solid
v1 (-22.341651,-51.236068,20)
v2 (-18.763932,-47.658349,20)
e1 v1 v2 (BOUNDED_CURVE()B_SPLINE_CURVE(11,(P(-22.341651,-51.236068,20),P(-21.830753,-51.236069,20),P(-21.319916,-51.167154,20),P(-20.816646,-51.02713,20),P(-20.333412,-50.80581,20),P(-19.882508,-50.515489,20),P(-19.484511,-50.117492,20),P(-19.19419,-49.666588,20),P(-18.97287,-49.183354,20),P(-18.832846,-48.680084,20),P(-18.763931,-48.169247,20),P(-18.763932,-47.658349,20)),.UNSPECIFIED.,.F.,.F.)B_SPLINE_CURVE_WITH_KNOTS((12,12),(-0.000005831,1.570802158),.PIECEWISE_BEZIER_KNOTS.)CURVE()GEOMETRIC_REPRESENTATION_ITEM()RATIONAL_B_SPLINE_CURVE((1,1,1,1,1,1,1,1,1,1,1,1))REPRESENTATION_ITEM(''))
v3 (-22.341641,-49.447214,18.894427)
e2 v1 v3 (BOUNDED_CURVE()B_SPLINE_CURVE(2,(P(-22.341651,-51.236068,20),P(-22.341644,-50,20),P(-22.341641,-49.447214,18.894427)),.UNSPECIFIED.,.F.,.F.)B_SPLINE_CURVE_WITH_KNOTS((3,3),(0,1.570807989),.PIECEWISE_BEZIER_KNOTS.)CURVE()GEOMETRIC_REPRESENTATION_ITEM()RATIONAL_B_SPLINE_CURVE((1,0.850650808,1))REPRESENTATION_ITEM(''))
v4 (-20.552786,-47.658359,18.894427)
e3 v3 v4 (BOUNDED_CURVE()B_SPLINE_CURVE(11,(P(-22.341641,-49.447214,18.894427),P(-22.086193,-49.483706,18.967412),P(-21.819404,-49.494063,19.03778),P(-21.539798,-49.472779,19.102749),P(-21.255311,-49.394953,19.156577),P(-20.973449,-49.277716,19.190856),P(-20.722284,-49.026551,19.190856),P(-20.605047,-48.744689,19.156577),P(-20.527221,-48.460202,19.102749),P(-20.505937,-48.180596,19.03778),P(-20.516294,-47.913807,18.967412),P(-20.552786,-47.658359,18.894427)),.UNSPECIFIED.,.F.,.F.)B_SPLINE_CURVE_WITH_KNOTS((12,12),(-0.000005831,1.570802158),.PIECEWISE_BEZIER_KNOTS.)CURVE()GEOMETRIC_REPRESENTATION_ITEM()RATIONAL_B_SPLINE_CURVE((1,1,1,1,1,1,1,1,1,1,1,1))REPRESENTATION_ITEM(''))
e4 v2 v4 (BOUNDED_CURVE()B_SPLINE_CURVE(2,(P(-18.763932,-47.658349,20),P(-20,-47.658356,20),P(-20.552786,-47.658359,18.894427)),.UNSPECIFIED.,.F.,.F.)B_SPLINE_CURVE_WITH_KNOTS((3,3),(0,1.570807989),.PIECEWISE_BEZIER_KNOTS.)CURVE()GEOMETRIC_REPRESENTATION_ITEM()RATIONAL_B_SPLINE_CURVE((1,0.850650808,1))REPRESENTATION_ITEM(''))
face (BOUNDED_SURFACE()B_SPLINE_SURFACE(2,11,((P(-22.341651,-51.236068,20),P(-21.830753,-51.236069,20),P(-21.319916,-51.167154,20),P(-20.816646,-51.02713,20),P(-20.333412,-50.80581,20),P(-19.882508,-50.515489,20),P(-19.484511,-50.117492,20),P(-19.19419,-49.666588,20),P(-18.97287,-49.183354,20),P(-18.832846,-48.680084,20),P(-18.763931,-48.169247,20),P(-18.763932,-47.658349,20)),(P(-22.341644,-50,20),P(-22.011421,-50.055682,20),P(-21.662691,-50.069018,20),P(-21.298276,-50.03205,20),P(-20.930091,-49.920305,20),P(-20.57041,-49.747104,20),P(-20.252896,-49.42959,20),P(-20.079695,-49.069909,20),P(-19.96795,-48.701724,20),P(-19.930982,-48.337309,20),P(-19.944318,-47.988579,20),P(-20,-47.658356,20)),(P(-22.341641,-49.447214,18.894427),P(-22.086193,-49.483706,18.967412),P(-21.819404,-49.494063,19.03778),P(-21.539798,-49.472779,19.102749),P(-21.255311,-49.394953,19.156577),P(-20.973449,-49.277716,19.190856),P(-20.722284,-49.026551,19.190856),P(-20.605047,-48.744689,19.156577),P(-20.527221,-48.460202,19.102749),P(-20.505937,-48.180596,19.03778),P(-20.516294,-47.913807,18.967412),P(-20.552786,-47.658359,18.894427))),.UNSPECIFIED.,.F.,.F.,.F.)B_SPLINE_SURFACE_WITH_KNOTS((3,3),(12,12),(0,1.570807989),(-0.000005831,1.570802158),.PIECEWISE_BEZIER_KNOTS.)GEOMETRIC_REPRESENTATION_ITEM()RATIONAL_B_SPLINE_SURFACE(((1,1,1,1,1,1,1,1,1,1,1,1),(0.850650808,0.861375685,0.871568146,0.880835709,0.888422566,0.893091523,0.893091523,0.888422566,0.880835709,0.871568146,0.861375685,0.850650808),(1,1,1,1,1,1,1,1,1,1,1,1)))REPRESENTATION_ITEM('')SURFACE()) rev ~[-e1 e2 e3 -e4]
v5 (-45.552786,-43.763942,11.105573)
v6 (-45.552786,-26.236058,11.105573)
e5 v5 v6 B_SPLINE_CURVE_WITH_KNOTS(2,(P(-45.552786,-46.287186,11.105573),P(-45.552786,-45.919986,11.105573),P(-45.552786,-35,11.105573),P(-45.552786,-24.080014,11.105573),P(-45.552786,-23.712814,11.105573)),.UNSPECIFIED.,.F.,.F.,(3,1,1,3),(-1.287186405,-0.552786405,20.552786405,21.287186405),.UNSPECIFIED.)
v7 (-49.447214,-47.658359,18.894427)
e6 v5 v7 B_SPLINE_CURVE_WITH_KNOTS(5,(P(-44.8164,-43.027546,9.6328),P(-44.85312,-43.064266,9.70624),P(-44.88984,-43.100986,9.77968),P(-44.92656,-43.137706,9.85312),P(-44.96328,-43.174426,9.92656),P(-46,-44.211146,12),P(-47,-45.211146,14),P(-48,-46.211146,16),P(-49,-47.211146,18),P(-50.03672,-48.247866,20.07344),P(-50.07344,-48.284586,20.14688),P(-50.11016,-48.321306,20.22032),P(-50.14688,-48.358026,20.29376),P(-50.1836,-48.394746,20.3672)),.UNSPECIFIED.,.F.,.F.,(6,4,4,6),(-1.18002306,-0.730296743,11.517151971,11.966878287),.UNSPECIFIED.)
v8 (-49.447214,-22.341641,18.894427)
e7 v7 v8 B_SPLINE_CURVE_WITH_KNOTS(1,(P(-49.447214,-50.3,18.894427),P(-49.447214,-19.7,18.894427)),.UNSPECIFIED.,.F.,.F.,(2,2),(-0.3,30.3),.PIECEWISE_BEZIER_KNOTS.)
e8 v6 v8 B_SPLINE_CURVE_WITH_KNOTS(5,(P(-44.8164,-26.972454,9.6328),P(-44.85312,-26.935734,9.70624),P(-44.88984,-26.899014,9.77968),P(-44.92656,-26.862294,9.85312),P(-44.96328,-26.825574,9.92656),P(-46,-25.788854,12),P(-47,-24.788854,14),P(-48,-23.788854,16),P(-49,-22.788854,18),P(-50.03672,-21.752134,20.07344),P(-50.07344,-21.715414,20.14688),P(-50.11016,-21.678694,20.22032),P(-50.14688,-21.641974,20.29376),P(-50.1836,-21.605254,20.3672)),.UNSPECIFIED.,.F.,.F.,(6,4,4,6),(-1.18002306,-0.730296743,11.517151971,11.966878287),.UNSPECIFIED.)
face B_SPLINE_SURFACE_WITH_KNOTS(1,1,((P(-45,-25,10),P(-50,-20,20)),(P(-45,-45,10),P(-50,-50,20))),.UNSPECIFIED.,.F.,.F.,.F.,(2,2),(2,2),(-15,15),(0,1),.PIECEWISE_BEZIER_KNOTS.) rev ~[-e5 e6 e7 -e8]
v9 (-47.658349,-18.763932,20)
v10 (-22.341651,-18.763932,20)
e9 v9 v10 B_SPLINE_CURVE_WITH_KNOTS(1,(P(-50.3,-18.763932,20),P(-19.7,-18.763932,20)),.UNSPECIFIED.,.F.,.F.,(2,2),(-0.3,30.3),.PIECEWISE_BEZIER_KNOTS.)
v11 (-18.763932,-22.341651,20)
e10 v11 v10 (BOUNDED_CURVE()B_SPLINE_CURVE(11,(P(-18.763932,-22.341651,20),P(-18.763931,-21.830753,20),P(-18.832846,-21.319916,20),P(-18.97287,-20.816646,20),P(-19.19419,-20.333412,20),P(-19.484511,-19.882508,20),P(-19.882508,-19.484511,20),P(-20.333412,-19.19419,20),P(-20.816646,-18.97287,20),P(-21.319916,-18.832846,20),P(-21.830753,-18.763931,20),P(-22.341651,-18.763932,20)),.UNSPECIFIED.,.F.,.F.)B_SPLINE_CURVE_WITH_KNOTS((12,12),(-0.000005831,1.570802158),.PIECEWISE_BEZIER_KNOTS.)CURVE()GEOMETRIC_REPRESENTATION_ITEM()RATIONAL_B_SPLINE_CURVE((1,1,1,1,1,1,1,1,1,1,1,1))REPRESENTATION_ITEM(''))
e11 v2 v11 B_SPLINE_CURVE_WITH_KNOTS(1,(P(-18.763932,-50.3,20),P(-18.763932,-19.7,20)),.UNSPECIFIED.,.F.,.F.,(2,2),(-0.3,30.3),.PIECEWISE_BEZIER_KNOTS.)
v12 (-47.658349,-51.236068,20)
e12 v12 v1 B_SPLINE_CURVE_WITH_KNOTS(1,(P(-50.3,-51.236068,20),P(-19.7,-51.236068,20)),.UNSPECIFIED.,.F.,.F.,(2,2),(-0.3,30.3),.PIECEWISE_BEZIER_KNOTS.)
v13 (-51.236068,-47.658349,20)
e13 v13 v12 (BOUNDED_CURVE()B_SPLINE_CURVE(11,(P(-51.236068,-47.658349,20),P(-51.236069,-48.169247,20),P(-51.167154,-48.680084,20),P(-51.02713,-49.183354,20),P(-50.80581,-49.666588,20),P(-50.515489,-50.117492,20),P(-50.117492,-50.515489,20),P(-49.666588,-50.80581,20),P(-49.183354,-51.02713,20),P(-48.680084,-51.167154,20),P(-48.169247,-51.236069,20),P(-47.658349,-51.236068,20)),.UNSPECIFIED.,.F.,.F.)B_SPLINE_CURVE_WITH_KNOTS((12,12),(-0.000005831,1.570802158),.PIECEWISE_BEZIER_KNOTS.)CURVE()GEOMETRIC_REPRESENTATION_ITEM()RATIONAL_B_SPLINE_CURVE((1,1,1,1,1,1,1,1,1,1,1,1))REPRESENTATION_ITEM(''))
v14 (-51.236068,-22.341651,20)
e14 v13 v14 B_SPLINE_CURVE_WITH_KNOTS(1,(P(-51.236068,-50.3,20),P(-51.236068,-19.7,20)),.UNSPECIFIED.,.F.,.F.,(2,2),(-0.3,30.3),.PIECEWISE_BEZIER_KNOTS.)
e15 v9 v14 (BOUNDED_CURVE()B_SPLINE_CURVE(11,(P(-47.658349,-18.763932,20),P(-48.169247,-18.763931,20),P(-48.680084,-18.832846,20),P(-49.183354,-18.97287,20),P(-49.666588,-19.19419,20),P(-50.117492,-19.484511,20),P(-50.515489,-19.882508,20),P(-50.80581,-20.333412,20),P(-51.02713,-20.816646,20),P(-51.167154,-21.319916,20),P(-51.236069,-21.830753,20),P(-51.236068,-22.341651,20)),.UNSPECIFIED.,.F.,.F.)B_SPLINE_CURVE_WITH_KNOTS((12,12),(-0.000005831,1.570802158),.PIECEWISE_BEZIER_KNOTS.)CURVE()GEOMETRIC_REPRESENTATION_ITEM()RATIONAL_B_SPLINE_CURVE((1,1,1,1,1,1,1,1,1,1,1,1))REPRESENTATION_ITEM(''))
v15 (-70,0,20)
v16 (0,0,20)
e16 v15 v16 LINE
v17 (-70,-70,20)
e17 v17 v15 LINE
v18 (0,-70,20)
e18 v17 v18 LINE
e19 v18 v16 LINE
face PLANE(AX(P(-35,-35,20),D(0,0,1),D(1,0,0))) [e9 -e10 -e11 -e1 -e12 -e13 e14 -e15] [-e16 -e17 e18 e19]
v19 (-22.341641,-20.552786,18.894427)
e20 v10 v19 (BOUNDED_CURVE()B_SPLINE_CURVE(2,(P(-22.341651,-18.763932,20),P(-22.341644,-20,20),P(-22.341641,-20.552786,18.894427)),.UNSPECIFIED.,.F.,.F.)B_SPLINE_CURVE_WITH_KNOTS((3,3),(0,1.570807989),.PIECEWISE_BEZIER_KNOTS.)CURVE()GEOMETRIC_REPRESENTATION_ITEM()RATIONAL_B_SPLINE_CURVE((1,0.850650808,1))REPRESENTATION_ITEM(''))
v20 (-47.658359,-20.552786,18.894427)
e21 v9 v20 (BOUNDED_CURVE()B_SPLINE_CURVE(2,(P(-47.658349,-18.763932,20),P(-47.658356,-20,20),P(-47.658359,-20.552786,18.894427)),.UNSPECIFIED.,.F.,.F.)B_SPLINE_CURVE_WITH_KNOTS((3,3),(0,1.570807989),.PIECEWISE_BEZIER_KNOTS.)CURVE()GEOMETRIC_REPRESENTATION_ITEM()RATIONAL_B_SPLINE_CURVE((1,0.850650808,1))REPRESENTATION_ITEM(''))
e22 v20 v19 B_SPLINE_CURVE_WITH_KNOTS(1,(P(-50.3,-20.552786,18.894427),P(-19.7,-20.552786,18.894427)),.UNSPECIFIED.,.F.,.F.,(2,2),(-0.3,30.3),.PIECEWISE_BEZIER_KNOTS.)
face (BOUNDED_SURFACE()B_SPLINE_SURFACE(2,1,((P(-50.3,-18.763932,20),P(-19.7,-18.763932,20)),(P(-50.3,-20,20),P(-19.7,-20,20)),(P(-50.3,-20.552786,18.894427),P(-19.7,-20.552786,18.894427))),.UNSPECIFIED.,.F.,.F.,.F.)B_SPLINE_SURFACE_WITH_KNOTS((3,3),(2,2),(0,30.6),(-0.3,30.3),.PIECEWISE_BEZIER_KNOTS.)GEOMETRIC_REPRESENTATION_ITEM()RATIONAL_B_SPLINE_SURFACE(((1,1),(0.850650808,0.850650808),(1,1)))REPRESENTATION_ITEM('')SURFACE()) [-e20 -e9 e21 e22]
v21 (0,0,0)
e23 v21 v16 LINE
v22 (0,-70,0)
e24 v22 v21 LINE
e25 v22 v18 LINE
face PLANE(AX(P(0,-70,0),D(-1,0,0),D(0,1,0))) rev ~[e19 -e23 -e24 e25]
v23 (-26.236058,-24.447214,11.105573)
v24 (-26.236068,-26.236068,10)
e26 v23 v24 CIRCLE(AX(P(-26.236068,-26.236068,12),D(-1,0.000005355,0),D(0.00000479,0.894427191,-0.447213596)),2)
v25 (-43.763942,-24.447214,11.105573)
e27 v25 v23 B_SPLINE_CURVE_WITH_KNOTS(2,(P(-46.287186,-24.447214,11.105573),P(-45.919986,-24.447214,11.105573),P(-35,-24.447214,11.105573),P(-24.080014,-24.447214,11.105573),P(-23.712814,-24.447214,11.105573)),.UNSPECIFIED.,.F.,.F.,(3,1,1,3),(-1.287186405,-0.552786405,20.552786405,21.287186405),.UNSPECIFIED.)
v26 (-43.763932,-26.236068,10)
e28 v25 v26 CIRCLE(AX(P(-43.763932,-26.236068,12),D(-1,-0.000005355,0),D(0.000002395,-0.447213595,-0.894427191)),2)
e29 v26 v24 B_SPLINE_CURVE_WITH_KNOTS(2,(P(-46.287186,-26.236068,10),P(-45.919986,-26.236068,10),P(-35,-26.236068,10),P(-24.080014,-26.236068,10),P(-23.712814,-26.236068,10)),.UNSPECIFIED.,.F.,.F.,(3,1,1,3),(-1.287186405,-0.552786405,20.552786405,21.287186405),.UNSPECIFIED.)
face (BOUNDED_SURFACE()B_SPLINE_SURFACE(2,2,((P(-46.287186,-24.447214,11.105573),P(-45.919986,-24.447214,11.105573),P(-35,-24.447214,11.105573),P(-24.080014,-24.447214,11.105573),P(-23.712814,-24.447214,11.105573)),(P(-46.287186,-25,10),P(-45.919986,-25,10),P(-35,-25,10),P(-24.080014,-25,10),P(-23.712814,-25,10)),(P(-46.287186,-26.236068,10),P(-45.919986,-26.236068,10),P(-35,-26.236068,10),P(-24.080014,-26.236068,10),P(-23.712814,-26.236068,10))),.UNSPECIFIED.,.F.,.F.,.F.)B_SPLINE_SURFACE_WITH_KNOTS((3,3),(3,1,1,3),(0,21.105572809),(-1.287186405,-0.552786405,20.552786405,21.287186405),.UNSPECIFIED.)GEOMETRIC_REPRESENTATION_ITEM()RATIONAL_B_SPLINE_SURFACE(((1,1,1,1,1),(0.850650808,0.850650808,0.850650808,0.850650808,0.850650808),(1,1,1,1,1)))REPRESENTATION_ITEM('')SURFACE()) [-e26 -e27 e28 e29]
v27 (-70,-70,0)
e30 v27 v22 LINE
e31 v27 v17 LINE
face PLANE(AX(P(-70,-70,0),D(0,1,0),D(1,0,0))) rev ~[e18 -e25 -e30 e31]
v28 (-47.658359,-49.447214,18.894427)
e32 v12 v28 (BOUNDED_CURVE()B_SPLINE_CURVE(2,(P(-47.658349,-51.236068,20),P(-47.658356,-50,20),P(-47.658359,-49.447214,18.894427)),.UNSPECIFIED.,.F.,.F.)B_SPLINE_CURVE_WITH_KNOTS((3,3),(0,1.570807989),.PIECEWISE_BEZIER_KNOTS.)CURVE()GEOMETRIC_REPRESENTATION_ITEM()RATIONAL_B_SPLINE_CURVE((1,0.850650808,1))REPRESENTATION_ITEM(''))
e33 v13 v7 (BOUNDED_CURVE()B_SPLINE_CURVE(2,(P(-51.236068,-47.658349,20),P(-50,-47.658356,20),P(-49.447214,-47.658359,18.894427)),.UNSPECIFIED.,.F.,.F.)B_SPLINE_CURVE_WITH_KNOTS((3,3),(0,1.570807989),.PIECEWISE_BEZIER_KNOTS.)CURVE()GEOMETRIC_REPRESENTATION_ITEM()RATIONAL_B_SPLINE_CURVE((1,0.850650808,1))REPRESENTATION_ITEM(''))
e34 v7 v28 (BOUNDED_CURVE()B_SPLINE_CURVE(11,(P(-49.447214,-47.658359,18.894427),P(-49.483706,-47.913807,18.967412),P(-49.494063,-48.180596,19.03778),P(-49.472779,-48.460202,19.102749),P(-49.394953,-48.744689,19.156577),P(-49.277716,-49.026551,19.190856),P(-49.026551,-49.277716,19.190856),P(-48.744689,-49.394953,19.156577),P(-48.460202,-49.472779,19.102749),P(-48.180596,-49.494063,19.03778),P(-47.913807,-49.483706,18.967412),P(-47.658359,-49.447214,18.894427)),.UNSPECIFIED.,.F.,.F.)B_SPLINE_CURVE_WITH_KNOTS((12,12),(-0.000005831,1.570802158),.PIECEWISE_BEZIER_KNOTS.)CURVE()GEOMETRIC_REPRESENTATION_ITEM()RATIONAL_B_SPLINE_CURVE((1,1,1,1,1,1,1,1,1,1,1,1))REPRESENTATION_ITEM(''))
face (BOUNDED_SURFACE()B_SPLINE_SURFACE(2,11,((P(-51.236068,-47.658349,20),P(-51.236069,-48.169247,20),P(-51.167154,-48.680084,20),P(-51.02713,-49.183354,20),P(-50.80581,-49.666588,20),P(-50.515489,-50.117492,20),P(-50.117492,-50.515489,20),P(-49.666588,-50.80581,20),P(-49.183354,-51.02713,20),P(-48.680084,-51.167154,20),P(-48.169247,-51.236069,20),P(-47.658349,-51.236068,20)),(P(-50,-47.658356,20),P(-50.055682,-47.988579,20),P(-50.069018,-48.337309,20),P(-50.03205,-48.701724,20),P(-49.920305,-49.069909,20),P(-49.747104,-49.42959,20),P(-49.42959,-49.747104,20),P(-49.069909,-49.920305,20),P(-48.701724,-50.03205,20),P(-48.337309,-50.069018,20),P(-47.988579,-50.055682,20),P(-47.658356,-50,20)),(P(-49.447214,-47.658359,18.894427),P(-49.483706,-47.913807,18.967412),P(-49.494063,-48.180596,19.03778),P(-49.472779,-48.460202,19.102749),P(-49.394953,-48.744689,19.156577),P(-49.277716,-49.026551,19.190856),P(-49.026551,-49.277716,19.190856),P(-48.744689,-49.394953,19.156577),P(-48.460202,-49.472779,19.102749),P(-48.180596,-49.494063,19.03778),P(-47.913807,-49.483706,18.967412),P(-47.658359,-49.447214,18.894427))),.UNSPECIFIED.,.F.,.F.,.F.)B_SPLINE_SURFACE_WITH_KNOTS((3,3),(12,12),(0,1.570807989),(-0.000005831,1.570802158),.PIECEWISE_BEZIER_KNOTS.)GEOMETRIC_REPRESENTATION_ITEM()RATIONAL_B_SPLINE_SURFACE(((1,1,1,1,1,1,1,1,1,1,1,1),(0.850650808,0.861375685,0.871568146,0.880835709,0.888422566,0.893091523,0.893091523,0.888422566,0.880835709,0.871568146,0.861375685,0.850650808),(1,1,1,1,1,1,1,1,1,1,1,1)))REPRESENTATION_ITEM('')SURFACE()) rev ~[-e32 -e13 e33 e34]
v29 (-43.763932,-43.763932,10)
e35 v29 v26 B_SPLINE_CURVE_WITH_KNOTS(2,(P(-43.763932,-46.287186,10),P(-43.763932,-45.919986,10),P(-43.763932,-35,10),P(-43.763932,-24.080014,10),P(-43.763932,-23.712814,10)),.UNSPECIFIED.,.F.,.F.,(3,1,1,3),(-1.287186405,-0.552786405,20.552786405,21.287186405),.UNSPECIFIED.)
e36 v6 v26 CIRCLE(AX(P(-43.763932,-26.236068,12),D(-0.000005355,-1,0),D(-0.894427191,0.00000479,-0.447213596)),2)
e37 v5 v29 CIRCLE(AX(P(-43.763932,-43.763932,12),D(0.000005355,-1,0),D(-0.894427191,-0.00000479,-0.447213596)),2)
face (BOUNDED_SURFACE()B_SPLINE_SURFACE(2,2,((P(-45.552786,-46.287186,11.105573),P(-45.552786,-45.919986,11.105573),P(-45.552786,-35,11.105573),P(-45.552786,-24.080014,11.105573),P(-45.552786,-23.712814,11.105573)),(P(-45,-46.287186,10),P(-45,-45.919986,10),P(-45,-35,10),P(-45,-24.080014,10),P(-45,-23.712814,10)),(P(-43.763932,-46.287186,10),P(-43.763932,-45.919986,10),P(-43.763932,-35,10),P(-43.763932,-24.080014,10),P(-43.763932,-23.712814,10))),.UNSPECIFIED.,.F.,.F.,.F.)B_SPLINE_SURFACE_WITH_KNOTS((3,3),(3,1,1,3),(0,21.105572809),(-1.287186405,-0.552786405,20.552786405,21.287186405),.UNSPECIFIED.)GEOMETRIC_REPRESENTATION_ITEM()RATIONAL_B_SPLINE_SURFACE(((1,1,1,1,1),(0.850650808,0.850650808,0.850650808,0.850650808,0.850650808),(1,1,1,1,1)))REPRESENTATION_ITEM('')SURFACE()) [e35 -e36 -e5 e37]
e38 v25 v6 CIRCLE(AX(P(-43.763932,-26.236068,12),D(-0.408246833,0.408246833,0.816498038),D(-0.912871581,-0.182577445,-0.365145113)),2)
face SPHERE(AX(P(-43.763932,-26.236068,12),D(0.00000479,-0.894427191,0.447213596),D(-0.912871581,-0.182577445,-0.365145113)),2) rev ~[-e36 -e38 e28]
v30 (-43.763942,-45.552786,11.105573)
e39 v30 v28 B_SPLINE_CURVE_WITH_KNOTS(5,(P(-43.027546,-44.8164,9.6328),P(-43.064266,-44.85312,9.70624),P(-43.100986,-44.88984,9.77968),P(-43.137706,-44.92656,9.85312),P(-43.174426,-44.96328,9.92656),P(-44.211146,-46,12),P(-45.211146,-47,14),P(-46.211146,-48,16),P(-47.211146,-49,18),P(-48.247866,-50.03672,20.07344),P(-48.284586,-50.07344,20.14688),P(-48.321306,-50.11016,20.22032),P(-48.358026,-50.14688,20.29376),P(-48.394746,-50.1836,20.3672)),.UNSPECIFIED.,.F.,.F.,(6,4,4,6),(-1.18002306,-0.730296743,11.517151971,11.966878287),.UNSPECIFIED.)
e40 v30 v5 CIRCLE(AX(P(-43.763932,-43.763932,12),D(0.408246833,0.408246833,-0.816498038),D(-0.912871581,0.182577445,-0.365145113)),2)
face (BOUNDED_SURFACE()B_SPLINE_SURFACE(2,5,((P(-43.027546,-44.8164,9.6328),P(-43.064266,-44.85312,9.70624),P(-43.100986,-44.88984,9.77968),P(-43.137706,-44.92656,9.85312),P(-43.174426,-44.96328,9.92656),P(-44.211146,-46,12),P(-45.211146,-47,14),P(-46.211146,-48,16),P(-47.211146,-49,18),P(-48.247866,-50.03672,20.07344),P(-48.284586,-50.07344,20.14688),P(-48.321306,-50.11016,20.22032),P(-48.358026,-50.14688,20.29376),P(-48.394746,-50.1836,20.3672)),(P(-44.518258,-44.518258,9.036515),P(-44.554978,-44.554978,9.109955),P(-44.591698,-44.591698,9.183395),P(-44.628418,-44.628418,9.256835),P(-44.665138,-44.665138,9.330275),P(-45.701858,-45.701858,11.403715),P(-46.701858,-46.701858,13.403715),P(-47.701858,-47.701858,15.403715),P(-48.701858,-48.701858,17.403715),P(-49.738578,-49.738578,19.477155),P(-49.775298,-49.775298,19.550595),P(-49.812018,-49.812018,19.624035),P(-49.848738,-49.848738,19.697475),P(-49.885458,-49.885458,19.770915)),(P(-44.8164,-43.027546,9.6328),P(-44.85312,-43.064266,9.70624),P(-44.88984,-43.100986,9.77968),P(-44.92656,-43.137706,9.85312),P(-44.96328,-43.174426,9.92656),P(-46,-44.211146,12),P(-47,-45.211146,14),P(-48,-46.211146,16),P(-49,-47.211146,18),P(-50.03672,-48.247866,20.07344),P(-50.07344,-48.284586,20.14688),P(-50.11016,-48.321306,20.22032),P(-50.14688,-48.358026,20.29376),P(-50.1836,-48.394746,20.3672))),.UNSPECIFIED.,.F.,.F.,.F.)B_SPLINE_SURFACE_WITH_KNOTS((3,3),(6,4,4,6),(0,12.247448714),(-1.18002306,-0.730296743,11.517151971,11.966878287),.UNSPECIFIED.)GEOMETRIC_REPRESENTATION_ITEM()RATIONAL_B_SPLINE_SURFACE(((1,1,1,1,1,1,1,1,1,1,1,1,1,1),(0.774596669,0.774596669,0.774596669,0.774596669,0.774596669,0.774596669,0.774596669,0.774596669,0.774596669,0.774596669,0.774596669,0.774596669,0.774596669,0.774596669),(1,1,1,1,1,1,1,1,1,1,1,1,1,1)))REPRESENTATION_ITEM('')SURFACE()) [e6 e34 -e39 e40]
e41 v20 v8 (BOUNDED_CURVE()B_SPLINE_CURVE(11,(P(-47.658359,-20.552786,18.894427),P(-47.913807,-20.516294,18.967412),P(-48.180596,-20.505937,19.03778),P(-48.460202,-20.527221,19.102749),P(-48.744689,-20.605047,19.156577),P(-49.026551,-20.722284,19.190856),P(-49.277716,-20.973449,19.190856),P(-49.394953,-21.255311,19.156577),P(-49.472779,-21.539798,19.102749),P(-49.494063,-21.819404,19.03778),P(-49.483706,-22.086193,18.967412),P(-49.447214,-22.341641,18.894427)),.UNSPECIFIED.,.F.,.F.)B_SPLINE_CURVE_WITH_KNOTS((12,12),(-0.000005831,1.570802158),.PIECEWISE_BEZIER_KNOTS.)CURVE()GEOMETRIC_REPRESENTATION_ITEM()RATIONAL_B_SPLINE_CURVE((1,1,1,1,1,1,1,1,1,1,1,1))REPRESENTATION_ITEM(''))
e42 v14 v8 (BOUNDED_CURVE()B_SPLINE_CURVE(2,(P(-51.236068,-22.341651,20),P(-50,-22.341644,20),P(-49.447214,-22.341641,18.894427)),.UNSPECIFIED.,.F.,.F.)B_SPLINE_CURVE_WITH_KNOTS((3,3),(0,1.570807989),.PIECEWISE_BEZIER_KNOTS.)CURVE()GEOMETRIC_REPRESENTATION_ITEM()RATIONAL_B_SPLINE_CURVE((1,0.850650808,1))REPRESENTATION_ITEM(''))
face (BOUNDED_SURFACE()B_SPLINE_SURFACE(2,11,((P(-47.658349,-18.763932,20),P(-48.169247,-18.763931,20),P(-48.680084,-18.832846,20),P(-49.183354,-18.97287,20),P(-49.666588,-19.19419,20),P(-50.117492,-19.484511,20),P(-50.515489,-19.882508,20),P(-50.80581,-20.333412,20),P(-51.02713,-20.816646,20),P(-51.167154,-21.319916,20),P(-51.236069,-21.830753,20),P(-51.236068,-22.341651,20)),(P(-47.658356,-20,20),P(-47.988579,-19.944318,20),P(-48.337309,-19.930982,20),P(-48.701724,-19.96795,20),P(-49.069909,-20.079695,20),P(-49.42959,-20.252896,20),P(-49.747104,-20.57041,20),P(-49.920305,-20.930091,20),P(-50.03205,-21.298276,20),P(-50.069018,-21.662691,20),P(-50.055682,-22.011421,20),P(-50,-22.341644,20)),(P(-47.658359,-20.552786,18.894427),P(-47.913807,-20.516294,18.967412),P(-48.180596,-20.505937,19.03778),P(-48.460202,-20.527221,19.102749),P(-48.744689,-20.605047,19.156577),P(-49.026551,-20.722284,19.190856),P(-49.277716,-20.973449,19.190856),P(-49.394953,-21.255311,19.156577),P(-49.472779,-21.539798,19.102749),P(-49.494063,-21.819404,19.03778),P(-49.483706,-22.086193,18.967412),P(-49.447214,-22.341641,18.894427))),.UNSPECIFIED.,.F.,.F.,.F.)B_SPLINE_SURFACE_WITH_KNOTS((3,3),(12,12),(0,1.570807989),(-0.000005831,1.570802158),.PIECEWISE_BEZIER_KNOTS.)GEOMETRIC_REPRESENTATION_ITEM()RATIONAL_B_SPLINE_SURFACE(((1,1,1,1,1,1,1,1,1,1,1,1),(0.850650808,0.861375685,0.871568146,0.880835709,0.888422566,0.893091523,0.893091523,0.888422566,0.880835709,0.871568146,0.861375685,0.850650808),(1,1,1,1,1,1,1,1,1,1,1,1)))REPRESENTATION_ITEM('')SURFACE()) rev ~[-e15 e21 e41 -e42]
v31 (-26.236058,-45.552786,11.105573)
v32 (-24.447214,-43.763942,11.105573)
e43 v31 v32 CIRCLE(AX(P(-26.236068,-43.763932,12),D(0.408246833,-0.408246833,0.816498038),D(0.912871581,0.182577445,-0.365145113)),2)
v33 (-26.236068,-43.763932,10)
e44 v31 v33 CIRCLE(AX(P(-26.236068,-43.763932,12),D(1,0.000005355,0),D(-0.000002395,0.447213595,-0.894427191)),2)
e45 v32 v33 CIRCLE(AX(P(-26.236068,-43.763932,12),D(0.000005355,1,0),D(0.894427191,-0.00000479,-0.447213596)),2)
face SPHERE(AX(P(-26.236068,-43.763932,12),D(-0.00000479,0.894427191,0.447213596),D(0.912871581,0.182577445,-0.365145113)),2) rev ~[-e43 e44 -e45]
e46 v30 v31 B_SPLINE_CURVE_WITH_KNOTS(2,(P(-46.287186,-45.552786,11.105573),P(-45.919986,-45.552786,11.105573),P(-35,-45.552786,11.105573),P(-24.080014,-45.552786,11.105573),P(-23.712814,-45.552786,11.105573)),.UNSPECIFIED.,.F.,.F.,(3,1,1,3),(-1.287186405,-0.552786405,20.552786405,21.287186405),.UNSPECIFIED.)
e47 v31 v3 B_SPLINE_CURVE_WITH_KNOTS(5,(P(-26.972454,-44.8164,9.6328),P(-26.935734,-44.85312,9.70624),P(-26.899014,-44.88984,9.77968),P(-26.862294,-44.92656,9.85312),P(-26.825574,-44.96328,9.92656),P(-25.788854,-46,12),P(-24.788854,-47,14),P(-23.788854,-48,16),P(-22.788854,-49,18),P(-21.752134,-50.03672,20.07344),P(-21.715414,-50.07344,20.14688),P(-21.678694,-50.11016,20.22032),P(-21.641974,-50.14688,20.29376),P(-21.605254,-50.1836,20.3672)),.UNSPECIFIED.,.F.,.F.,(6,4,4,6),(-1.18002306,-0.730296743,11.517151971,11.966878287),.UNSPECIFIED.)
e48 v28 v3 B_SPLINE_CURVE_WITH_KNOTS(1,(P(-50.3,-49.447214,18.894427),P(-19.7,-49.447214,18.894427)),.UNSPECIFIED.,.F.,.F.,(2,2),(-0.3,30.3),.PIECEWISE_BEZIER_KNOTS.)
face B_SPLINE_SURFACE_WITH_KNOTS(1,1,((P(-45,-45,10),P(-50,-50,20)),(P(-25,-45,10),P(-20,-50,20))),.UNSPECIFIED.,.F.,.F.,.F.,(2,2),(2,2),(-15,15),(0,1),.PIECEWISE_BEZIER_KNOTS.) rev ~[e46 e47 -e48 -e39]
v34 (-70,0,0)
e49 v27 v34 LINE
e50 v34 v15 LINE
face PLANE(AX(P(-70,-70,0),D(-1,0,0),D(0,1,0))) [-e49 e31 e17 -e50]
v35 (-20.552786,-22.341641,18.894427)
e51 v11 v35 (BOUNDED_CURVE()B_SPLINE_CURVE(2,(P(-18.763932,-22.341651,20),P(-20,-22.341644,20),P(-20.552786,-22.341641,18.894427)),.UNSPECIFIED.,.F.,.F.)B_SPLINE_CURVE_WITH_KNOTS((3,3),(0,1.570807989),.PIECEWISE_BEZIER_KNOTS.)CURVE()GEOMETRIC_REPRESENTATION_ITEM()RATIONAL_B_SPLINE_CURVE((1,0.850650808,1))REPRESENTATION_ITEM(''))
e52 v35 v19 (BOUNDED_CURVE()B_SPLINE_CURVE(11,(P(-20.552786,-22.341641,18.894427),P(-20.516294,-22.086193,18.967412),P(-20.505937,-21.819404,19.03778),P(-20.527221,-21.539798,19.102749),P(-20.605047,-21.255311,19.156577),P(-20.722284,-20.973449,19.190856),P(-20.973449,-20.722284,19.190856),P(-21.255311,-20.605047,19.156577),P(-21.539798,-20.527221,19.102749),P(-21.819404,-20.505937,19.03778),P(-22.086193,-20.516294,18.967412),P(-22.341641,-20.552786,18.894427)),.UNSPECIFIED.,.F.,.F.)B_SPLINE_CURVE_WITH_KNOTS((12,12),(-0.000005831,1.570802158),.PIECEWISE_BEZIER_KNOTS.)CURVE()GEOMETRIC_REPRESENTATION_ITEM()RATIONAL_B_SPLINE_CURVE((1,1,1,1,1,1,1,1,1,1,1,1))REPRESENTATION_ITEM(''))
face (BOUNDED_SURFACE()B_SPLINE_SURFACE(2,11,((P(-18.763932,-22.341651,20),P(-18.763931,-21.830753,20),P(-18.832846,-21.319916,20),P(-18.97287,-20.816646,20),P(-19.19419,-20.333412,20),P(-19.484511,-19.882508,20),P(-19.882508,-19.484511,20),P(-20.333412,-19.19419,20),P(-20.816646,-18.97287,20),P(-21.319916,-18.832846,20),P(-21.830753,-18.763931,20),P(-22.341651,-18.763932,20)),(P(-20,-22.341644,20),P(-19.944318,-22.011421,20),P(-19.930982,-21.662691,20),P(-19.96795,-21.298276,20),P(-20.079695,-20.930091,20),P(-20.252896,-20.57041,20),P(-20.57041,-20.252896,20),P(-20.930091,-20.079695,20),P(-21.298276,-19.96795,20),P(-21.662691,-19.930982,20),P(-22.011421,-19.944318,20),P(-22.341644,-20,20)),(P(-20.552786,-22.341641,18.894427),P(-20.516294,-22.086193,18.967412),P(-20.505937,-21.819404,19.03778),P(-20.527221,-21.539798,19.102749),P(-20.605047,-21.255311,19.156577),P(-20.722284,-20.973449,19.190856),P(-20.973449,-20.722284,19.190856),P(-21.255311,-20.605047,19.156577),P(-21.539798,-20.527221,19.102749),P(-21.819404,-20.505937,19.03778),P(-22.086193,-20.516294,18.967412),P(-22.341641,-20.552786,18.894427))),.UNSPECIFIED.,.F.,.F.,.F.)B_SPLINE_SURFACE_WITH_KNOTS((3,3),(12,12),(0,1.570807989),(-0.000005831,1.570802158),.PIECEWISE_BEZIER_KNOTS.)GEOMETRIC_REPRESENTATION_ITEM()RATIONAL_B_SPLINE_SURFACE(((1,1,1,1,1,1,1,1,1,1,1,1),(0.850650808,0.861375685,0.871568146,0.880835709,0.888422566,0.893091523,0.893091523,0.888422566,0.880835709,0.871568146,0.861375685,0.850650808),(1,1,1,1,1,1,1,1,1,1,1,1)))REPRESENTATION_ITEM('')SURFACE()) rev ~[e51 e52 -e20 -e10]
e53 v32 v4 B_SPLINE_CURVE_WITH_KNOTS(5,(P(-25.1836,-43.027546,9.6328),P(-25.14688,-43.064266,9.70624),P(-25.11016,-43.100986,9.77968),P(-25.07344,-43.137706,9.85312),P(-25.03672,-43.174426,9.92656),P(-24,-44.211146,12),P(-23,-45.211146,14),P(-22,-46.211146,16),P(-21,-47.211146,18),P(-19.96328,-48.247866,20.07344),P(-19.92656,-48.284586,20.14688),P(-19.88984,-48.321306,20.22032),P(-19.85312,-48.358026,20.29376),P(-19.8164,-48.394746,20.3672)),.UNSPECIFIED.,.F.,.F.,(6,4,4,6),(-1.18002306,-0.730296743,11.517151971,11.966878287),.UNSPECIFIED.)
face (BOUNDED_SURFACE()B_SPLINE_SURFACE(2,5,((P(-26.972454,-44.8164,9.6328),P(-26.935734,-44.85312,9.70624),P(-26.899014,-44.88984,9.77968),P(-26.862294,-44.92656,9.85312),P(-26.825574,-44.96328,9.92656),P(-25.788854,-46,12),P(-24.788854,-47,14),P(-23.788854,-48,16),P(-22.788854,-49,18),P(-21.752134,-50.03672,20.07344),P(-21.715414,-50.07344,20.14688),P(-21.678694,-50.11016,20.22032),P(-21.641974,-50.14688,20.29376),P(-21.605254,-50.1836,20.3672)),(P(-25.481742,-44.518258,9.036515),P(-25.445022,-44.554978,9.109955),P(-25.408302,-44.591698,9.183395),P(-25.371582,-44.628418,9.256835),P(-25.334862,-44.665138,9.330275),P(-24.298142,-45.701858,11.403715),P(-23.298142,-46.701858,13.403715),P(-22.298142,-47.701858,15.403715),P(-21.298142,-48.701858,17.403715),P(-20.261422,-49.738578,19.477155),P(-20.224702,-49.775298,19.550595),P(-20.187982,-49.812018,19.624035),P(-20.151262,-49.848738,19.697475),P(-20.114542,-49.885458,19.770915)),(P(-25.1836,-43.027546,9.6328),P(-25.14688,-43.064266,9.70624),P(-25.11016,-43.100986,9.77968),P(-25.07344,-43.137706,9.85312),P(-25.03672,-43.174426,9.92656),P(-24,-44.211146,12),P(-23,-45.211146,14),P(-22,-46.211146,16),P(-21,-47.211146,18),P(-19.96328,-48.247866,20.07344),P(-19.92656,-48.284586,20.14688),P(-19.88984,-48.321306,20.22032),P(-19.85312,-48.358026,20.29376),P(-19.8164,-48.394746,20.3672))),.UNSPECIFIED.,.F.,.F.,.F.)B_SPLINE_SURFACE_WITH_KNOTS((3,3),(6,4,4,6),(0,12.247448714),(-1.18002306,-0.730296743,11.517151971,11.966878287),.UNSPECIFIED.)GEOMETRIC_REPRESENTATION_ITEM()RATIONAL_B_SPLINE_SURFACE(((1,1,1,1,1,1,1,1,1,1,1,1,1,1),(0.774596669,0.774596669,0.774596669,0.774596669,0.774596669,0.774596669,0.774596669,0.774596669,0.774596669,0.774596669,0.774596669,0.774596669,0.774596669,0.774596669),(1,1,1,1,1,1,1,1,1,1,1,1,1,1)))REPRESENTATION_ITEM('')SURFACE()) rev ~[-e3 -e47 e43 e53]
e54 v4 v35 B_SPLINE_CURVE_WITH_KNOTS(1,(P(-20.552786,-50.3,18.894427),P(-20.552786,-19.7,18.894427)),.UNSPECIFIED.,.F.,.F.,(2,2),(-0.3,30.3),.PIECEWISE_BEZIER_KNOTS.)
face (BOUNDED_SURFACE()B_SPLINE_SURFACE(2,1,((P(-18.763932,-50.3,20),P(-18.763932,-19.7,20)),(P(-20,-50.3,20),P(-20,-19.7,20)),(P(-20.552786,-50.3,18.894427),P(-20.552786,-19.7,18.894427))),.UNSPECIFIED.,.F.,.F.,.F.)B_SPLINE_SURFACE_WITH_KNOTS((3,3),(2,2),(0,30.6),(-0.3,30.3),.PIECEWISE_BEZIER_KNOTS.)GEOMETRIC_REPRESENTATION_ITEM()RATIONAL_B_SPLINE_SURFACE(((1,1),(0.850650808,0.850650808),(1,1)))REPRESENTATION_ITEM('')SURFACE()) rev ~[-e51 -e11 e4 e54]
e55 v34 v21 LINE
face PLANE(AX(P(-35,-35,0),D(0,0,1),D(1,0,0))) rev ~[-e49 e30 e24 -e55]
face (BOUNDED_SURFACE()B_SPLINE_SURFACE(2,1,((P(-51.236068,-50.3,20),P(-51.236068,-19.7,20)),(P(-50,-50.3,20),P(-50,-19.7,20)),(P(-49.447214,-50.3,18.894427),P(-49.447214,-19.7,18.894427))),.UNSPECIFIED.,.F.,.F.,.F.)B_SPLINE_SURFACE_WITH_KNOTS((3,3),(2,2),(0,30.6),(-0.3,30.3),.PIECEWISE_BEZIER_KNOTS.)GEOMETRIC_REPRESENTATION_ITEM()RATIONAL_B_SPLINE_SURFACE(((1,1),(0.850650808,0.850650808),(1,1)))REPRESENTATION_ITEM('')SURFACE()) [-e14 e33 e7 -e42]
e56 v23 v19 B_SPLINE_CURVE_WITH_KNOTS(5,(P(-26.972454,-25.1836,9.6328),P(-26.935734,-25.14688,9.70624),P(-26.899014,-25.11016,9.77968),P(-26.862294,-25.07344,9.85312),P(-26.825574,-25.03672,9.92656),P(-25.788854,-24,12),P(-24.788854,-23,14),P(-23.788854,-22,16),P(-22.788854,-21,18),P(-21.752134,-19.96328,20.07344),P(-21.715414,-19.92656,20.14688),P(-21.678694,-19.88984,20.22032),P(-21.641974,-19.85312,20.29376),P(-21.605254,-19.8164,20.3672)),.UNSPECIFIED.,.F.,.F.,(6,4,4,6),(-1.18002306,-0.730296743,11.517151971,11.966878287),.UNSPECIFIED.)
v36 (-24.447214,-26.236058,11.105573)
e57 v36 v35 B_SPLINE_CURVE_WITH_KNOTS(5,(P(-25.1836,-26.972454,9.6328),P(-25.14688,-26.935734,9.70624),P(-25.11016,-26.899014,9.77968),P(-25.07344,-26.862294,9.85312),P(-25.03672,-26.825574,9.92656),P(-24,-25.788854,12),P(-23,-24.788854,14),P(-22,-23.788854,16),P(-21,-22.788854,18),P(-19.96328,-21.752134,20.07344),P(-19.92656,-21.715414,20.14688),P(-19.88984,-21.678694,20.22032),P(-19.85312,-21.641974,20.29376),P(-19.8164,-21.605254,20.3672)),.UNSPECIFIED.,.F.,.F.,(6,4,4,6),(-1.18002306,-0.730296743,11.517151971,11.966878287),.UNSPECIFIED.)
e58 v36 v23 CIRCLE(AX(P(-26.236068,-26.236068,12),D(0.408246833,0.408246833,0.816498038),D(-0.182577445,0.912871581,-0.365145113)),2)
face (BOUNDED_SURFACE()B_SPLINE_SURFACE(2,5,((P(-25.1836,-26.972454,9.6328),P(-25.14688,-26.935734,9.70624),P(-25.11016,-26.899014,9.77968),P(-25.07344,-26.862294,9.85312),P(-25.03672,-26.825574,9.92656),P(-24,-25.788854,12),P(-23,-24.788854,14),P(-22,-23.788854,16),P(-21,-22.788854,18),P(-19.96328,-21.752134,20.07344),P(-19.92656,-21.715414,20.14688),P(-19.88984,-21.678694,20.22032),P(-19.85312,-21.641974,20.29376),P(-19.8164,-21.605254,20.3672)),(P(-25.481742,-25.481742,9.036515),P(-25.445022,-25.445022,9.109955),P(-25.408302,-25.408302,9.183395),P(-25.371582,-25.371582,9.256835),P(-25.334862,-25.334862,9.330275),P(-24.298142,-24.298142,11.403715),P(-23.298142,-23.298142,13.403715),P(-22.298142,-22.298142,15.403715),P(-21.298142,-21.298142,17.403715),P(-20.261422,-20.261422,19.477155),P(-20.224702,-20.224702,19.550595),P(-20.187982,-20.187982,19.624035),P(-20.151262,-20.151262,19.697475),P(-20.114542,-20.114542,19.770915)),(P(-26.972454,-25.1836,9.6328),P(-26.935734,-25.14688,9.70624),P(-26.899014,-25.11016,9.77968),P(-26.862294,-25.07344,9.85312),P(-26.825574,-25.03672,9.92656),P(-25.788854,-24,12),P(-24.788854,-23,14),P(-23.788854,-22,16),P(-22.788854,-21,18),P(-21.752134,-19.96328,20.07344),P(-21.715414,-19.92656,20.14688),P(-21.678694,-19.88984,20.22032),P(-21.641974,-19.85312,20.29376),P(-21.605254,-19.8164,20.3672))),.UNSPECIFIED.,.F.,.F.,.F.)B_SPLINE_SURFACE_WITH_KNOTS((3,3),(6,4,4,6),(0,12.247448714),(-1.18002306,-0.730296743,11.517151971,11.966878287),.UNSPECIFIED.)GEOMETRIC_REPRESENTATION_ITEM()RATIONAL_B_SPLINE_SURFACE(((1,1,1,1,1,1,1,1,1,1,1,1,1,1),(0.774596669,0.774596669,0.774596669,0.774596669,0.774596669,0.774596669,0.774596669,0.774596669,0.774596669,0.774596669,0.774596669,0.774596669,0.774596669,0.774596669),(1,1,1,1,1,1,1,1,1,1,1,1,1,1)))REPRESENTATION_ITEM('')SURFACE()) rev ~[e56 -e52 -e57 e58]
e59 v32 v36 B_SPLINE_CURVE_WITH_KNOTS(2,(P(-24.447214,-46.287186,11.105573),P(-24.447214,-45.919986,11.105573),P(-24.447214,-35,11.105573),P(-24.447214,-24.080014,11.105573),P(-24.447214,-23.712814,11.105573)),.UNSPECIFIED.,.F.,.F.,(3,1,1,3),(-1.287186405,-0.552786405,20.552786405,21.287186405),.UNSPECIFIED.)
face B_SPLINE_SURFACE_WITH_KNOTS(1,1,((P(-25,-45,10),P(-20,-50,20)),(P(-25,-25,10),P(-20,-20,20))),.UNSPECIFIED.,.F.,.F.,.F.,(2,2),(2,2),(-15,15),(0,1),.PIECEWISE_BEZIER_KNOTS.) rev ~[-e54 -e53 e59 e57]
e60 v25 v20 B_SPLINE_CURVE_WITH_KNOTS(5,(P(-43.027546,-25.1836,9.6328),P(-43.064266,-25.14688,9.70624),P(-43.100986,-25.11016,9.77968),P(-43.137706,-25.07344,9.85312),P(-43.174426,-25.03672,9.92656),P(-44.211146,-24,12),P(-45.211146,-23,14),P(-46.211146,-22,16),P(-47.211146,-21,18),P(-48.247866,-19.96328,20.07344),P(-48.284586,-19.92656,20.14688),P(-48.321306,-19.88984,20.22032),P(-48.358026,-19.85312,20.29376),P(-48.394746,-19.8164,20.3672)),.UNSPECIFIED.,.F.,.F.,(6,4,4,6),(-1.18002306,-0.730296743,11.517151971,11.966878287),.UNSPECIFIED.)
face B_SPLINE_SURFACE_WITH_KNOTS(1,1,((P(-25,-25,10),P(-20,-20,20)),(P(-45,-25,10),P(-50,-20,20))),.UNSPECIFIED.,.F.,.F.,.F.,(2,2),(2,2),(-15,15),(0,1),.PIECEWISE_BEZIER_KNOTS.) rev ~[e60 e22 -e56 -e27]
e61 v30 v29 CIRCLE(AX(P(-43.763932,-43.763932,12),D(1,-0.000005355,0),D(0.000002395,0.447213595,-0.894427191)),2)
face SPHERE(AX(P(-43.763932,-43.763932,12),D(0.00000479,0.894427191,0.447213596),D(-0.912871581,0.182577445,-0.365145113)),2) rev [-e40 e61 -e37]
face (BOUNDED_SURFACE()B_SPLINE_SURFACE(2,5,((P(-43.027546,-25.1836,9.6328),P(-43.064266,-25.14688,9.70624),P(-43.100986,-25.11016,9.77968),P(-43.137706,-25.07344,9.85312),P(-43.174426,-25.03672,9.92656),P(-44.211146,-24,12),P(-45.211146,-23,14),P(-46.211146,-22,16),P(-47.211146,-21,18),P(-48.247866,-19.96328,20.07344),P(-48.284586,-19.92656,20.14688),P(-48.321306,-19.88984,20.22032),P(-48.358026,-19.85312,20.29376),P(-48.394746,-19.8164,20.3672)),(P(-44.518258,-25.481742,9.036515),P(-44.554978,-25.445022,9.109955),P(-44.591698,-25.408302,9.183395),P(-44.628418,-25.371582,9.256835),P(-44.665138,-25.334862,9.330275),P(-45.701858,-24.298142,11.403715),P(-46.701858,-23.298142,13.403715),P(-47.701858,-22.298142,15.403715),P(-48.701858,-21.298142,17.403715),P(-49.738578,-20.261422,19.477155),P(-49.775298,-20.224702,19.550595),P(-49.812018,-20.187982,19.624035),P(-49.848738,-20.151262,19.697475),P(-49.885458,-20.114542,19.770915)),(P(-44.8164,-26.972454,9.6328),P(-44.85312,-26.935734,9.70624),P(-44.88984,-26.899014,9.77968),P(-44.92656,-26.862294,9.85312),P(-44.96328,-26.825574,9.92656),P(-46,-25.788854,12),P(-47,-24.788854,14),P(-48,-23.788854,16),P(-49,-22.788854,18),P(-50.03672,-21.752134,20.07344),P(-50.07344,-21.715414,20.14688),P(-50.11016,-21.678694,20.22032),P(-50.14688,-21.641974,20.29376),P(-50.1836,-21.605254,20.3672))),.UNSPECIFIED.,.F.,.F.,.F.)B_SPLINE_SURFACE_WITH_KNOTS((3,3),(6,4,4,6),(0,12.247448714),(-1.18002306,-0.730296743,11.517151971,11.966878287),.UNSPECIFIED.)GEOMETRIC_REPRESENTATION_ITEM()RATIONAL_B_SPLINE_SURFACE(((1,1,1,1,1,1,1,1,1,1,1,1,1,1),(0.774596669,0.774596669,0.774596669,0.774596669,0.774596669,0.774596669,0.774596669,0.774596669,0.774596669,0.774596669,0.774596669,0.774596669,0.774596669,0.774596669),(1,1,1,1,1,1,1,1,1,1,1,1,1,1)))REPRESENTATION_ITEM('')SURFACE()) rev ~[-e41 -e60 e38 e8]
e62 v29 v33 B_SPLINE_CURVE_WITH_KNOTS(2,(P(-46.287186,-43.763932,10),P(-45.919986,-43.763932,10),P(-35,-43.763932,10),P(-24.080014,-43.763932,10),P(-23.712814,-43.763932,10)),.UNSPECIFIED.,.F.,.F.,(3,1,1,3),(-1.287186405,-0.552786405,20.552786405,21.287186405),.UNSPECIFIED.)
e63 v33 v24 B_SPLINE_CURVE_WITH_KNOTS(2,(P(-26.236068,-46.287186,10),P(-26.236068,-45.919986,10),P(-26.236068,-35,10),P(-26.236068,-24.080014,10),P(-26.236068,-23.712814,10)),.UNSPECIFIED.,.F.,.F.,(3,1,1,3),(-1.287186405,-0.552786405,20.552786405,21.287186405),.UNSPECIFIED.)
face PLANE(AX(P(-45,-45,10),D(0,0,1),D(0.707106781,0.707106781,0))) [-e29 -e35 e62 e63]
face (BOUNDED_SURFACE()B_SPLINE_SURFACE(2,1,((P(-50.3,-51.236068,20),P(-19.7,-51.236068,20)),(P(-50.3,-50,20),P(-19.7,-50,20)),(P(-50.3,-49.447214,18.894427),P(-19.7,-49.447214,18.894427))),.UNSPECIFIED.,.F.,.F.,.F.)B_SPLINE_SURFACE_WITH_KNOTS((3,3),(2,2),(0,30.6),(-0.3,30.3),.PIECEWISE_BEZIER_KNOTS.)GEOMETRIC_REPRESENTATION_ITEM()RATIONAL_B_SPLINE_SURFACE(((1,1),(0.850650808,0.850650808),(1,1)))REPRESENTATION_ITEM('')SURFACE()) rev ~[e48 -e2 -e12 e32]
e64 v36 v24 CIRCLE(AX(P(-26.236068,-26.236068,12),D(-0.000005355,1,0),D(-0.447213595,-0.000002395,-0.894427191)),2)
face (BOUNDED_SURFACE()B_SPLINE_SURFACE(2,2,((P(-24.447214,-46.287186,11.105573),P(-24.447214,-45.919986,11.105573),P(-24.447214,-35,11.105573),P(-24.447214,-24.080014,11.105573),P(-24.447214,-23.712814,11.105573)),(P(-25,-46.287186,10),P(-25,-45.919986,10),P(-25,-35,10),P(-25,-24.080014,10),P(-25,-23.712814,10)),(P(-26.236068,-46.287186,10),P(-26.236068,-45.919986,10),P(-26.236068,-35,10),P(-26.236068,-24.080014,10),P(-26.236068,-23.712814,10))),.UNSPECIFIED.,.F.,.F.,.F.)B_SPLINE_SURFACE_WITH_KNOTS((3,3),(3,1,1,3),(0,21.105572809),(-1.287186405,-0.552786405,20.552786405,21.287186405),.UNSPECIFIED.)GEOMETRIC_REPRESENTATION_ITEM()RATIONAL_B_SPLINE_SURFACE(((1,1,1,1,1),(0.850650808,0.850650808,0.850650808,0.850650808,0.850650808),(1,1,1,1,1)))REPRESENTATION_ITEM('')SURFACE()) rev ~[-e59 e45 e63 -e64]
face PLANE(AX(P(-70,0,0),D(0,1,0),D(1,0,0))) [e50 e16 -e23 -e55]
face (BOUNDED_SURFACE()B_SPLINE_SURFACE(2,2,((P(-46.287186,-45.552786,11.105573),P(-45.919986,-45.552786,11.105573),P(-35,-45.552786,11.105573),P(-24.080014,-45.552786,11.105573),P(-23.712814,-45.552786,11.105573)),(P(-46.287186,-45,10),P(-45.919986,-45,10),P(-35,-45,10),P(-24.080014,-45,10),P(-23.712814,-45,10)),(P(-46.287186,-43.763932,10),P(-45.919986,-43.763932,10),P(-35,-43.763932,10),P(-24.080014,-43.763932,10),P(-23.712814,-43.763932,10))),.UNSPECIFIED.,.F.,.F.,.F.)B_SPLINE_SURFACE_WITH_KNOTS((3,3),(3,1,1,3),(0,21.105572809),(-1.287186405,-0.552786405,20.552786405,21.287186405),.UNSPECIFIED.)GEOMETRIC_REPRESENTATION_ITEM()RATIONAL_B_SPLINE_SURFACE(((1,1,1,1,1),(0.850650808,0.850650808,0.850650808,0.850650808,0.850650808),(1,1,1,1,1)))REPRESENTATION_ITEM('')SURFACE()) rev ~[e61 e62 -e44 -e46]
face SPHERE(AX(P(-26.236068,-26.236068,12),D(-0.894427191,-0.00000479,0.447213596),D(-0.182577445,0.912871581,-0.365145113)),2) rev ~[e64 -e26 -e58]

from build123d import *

# Parameters (mm, degrees)
SKETCH_W    = 70
SKETCH_H    = 70
PAD_DEPTH   = 20
SKETCH002_W = 20
SKETCH002_H = 20
SKETCH001_W = 30
SKETCH001_H = 30
FILLET_R    = 2


with BuildPart() as part:
    # Sketch → Pad (new body)
    with BuildSketch(Plane.XY):
        with Locations((-35, -35)):
            Rectangle(SKETCH_W, SKETCH_H)
    extrude(amount=PAD_DEPTH)

    # Sketch002 (on DatumPlane) → SubtractiveLoft section 0
    with BuildSketch(Plane.XY.offset(10)):
        with Locations((-35, -35)):
            Rectangle(SKETCH002_W, SKETCH002_H)
    # Sketch001 (on Face6 of Pad) → SubtractiveLoft section 1
    with BuildSketch(Plane.XY.offset(20)):
        with Locations((-35, -35)):
            Rectangle(SKETCH001_W, SKETCH001_H)
    loft(mode=Mode.SUBTRACT)

    # Fillet
    fillet_edges = [part.edges().sort_by_distance(p)[0] for p in [
        (-45, -35, 10),
        (-47.5, -47.5, 15),
        (-50, -35, 20),
        (-47.5, -22.5, 15),
        (-35, -25, 10),
        (-35, -20, 20),
        (-22.5, -22.5, 15),
        (-25, -35, 10),
        (-20, -35, 20),
        (-22.5, -47.5, 15),
        (-35, -45, 10),
        (-35, -50, 20),
    ]]
    fillet(fillet_edges, radius=FILLET_R)


solid = part.part
